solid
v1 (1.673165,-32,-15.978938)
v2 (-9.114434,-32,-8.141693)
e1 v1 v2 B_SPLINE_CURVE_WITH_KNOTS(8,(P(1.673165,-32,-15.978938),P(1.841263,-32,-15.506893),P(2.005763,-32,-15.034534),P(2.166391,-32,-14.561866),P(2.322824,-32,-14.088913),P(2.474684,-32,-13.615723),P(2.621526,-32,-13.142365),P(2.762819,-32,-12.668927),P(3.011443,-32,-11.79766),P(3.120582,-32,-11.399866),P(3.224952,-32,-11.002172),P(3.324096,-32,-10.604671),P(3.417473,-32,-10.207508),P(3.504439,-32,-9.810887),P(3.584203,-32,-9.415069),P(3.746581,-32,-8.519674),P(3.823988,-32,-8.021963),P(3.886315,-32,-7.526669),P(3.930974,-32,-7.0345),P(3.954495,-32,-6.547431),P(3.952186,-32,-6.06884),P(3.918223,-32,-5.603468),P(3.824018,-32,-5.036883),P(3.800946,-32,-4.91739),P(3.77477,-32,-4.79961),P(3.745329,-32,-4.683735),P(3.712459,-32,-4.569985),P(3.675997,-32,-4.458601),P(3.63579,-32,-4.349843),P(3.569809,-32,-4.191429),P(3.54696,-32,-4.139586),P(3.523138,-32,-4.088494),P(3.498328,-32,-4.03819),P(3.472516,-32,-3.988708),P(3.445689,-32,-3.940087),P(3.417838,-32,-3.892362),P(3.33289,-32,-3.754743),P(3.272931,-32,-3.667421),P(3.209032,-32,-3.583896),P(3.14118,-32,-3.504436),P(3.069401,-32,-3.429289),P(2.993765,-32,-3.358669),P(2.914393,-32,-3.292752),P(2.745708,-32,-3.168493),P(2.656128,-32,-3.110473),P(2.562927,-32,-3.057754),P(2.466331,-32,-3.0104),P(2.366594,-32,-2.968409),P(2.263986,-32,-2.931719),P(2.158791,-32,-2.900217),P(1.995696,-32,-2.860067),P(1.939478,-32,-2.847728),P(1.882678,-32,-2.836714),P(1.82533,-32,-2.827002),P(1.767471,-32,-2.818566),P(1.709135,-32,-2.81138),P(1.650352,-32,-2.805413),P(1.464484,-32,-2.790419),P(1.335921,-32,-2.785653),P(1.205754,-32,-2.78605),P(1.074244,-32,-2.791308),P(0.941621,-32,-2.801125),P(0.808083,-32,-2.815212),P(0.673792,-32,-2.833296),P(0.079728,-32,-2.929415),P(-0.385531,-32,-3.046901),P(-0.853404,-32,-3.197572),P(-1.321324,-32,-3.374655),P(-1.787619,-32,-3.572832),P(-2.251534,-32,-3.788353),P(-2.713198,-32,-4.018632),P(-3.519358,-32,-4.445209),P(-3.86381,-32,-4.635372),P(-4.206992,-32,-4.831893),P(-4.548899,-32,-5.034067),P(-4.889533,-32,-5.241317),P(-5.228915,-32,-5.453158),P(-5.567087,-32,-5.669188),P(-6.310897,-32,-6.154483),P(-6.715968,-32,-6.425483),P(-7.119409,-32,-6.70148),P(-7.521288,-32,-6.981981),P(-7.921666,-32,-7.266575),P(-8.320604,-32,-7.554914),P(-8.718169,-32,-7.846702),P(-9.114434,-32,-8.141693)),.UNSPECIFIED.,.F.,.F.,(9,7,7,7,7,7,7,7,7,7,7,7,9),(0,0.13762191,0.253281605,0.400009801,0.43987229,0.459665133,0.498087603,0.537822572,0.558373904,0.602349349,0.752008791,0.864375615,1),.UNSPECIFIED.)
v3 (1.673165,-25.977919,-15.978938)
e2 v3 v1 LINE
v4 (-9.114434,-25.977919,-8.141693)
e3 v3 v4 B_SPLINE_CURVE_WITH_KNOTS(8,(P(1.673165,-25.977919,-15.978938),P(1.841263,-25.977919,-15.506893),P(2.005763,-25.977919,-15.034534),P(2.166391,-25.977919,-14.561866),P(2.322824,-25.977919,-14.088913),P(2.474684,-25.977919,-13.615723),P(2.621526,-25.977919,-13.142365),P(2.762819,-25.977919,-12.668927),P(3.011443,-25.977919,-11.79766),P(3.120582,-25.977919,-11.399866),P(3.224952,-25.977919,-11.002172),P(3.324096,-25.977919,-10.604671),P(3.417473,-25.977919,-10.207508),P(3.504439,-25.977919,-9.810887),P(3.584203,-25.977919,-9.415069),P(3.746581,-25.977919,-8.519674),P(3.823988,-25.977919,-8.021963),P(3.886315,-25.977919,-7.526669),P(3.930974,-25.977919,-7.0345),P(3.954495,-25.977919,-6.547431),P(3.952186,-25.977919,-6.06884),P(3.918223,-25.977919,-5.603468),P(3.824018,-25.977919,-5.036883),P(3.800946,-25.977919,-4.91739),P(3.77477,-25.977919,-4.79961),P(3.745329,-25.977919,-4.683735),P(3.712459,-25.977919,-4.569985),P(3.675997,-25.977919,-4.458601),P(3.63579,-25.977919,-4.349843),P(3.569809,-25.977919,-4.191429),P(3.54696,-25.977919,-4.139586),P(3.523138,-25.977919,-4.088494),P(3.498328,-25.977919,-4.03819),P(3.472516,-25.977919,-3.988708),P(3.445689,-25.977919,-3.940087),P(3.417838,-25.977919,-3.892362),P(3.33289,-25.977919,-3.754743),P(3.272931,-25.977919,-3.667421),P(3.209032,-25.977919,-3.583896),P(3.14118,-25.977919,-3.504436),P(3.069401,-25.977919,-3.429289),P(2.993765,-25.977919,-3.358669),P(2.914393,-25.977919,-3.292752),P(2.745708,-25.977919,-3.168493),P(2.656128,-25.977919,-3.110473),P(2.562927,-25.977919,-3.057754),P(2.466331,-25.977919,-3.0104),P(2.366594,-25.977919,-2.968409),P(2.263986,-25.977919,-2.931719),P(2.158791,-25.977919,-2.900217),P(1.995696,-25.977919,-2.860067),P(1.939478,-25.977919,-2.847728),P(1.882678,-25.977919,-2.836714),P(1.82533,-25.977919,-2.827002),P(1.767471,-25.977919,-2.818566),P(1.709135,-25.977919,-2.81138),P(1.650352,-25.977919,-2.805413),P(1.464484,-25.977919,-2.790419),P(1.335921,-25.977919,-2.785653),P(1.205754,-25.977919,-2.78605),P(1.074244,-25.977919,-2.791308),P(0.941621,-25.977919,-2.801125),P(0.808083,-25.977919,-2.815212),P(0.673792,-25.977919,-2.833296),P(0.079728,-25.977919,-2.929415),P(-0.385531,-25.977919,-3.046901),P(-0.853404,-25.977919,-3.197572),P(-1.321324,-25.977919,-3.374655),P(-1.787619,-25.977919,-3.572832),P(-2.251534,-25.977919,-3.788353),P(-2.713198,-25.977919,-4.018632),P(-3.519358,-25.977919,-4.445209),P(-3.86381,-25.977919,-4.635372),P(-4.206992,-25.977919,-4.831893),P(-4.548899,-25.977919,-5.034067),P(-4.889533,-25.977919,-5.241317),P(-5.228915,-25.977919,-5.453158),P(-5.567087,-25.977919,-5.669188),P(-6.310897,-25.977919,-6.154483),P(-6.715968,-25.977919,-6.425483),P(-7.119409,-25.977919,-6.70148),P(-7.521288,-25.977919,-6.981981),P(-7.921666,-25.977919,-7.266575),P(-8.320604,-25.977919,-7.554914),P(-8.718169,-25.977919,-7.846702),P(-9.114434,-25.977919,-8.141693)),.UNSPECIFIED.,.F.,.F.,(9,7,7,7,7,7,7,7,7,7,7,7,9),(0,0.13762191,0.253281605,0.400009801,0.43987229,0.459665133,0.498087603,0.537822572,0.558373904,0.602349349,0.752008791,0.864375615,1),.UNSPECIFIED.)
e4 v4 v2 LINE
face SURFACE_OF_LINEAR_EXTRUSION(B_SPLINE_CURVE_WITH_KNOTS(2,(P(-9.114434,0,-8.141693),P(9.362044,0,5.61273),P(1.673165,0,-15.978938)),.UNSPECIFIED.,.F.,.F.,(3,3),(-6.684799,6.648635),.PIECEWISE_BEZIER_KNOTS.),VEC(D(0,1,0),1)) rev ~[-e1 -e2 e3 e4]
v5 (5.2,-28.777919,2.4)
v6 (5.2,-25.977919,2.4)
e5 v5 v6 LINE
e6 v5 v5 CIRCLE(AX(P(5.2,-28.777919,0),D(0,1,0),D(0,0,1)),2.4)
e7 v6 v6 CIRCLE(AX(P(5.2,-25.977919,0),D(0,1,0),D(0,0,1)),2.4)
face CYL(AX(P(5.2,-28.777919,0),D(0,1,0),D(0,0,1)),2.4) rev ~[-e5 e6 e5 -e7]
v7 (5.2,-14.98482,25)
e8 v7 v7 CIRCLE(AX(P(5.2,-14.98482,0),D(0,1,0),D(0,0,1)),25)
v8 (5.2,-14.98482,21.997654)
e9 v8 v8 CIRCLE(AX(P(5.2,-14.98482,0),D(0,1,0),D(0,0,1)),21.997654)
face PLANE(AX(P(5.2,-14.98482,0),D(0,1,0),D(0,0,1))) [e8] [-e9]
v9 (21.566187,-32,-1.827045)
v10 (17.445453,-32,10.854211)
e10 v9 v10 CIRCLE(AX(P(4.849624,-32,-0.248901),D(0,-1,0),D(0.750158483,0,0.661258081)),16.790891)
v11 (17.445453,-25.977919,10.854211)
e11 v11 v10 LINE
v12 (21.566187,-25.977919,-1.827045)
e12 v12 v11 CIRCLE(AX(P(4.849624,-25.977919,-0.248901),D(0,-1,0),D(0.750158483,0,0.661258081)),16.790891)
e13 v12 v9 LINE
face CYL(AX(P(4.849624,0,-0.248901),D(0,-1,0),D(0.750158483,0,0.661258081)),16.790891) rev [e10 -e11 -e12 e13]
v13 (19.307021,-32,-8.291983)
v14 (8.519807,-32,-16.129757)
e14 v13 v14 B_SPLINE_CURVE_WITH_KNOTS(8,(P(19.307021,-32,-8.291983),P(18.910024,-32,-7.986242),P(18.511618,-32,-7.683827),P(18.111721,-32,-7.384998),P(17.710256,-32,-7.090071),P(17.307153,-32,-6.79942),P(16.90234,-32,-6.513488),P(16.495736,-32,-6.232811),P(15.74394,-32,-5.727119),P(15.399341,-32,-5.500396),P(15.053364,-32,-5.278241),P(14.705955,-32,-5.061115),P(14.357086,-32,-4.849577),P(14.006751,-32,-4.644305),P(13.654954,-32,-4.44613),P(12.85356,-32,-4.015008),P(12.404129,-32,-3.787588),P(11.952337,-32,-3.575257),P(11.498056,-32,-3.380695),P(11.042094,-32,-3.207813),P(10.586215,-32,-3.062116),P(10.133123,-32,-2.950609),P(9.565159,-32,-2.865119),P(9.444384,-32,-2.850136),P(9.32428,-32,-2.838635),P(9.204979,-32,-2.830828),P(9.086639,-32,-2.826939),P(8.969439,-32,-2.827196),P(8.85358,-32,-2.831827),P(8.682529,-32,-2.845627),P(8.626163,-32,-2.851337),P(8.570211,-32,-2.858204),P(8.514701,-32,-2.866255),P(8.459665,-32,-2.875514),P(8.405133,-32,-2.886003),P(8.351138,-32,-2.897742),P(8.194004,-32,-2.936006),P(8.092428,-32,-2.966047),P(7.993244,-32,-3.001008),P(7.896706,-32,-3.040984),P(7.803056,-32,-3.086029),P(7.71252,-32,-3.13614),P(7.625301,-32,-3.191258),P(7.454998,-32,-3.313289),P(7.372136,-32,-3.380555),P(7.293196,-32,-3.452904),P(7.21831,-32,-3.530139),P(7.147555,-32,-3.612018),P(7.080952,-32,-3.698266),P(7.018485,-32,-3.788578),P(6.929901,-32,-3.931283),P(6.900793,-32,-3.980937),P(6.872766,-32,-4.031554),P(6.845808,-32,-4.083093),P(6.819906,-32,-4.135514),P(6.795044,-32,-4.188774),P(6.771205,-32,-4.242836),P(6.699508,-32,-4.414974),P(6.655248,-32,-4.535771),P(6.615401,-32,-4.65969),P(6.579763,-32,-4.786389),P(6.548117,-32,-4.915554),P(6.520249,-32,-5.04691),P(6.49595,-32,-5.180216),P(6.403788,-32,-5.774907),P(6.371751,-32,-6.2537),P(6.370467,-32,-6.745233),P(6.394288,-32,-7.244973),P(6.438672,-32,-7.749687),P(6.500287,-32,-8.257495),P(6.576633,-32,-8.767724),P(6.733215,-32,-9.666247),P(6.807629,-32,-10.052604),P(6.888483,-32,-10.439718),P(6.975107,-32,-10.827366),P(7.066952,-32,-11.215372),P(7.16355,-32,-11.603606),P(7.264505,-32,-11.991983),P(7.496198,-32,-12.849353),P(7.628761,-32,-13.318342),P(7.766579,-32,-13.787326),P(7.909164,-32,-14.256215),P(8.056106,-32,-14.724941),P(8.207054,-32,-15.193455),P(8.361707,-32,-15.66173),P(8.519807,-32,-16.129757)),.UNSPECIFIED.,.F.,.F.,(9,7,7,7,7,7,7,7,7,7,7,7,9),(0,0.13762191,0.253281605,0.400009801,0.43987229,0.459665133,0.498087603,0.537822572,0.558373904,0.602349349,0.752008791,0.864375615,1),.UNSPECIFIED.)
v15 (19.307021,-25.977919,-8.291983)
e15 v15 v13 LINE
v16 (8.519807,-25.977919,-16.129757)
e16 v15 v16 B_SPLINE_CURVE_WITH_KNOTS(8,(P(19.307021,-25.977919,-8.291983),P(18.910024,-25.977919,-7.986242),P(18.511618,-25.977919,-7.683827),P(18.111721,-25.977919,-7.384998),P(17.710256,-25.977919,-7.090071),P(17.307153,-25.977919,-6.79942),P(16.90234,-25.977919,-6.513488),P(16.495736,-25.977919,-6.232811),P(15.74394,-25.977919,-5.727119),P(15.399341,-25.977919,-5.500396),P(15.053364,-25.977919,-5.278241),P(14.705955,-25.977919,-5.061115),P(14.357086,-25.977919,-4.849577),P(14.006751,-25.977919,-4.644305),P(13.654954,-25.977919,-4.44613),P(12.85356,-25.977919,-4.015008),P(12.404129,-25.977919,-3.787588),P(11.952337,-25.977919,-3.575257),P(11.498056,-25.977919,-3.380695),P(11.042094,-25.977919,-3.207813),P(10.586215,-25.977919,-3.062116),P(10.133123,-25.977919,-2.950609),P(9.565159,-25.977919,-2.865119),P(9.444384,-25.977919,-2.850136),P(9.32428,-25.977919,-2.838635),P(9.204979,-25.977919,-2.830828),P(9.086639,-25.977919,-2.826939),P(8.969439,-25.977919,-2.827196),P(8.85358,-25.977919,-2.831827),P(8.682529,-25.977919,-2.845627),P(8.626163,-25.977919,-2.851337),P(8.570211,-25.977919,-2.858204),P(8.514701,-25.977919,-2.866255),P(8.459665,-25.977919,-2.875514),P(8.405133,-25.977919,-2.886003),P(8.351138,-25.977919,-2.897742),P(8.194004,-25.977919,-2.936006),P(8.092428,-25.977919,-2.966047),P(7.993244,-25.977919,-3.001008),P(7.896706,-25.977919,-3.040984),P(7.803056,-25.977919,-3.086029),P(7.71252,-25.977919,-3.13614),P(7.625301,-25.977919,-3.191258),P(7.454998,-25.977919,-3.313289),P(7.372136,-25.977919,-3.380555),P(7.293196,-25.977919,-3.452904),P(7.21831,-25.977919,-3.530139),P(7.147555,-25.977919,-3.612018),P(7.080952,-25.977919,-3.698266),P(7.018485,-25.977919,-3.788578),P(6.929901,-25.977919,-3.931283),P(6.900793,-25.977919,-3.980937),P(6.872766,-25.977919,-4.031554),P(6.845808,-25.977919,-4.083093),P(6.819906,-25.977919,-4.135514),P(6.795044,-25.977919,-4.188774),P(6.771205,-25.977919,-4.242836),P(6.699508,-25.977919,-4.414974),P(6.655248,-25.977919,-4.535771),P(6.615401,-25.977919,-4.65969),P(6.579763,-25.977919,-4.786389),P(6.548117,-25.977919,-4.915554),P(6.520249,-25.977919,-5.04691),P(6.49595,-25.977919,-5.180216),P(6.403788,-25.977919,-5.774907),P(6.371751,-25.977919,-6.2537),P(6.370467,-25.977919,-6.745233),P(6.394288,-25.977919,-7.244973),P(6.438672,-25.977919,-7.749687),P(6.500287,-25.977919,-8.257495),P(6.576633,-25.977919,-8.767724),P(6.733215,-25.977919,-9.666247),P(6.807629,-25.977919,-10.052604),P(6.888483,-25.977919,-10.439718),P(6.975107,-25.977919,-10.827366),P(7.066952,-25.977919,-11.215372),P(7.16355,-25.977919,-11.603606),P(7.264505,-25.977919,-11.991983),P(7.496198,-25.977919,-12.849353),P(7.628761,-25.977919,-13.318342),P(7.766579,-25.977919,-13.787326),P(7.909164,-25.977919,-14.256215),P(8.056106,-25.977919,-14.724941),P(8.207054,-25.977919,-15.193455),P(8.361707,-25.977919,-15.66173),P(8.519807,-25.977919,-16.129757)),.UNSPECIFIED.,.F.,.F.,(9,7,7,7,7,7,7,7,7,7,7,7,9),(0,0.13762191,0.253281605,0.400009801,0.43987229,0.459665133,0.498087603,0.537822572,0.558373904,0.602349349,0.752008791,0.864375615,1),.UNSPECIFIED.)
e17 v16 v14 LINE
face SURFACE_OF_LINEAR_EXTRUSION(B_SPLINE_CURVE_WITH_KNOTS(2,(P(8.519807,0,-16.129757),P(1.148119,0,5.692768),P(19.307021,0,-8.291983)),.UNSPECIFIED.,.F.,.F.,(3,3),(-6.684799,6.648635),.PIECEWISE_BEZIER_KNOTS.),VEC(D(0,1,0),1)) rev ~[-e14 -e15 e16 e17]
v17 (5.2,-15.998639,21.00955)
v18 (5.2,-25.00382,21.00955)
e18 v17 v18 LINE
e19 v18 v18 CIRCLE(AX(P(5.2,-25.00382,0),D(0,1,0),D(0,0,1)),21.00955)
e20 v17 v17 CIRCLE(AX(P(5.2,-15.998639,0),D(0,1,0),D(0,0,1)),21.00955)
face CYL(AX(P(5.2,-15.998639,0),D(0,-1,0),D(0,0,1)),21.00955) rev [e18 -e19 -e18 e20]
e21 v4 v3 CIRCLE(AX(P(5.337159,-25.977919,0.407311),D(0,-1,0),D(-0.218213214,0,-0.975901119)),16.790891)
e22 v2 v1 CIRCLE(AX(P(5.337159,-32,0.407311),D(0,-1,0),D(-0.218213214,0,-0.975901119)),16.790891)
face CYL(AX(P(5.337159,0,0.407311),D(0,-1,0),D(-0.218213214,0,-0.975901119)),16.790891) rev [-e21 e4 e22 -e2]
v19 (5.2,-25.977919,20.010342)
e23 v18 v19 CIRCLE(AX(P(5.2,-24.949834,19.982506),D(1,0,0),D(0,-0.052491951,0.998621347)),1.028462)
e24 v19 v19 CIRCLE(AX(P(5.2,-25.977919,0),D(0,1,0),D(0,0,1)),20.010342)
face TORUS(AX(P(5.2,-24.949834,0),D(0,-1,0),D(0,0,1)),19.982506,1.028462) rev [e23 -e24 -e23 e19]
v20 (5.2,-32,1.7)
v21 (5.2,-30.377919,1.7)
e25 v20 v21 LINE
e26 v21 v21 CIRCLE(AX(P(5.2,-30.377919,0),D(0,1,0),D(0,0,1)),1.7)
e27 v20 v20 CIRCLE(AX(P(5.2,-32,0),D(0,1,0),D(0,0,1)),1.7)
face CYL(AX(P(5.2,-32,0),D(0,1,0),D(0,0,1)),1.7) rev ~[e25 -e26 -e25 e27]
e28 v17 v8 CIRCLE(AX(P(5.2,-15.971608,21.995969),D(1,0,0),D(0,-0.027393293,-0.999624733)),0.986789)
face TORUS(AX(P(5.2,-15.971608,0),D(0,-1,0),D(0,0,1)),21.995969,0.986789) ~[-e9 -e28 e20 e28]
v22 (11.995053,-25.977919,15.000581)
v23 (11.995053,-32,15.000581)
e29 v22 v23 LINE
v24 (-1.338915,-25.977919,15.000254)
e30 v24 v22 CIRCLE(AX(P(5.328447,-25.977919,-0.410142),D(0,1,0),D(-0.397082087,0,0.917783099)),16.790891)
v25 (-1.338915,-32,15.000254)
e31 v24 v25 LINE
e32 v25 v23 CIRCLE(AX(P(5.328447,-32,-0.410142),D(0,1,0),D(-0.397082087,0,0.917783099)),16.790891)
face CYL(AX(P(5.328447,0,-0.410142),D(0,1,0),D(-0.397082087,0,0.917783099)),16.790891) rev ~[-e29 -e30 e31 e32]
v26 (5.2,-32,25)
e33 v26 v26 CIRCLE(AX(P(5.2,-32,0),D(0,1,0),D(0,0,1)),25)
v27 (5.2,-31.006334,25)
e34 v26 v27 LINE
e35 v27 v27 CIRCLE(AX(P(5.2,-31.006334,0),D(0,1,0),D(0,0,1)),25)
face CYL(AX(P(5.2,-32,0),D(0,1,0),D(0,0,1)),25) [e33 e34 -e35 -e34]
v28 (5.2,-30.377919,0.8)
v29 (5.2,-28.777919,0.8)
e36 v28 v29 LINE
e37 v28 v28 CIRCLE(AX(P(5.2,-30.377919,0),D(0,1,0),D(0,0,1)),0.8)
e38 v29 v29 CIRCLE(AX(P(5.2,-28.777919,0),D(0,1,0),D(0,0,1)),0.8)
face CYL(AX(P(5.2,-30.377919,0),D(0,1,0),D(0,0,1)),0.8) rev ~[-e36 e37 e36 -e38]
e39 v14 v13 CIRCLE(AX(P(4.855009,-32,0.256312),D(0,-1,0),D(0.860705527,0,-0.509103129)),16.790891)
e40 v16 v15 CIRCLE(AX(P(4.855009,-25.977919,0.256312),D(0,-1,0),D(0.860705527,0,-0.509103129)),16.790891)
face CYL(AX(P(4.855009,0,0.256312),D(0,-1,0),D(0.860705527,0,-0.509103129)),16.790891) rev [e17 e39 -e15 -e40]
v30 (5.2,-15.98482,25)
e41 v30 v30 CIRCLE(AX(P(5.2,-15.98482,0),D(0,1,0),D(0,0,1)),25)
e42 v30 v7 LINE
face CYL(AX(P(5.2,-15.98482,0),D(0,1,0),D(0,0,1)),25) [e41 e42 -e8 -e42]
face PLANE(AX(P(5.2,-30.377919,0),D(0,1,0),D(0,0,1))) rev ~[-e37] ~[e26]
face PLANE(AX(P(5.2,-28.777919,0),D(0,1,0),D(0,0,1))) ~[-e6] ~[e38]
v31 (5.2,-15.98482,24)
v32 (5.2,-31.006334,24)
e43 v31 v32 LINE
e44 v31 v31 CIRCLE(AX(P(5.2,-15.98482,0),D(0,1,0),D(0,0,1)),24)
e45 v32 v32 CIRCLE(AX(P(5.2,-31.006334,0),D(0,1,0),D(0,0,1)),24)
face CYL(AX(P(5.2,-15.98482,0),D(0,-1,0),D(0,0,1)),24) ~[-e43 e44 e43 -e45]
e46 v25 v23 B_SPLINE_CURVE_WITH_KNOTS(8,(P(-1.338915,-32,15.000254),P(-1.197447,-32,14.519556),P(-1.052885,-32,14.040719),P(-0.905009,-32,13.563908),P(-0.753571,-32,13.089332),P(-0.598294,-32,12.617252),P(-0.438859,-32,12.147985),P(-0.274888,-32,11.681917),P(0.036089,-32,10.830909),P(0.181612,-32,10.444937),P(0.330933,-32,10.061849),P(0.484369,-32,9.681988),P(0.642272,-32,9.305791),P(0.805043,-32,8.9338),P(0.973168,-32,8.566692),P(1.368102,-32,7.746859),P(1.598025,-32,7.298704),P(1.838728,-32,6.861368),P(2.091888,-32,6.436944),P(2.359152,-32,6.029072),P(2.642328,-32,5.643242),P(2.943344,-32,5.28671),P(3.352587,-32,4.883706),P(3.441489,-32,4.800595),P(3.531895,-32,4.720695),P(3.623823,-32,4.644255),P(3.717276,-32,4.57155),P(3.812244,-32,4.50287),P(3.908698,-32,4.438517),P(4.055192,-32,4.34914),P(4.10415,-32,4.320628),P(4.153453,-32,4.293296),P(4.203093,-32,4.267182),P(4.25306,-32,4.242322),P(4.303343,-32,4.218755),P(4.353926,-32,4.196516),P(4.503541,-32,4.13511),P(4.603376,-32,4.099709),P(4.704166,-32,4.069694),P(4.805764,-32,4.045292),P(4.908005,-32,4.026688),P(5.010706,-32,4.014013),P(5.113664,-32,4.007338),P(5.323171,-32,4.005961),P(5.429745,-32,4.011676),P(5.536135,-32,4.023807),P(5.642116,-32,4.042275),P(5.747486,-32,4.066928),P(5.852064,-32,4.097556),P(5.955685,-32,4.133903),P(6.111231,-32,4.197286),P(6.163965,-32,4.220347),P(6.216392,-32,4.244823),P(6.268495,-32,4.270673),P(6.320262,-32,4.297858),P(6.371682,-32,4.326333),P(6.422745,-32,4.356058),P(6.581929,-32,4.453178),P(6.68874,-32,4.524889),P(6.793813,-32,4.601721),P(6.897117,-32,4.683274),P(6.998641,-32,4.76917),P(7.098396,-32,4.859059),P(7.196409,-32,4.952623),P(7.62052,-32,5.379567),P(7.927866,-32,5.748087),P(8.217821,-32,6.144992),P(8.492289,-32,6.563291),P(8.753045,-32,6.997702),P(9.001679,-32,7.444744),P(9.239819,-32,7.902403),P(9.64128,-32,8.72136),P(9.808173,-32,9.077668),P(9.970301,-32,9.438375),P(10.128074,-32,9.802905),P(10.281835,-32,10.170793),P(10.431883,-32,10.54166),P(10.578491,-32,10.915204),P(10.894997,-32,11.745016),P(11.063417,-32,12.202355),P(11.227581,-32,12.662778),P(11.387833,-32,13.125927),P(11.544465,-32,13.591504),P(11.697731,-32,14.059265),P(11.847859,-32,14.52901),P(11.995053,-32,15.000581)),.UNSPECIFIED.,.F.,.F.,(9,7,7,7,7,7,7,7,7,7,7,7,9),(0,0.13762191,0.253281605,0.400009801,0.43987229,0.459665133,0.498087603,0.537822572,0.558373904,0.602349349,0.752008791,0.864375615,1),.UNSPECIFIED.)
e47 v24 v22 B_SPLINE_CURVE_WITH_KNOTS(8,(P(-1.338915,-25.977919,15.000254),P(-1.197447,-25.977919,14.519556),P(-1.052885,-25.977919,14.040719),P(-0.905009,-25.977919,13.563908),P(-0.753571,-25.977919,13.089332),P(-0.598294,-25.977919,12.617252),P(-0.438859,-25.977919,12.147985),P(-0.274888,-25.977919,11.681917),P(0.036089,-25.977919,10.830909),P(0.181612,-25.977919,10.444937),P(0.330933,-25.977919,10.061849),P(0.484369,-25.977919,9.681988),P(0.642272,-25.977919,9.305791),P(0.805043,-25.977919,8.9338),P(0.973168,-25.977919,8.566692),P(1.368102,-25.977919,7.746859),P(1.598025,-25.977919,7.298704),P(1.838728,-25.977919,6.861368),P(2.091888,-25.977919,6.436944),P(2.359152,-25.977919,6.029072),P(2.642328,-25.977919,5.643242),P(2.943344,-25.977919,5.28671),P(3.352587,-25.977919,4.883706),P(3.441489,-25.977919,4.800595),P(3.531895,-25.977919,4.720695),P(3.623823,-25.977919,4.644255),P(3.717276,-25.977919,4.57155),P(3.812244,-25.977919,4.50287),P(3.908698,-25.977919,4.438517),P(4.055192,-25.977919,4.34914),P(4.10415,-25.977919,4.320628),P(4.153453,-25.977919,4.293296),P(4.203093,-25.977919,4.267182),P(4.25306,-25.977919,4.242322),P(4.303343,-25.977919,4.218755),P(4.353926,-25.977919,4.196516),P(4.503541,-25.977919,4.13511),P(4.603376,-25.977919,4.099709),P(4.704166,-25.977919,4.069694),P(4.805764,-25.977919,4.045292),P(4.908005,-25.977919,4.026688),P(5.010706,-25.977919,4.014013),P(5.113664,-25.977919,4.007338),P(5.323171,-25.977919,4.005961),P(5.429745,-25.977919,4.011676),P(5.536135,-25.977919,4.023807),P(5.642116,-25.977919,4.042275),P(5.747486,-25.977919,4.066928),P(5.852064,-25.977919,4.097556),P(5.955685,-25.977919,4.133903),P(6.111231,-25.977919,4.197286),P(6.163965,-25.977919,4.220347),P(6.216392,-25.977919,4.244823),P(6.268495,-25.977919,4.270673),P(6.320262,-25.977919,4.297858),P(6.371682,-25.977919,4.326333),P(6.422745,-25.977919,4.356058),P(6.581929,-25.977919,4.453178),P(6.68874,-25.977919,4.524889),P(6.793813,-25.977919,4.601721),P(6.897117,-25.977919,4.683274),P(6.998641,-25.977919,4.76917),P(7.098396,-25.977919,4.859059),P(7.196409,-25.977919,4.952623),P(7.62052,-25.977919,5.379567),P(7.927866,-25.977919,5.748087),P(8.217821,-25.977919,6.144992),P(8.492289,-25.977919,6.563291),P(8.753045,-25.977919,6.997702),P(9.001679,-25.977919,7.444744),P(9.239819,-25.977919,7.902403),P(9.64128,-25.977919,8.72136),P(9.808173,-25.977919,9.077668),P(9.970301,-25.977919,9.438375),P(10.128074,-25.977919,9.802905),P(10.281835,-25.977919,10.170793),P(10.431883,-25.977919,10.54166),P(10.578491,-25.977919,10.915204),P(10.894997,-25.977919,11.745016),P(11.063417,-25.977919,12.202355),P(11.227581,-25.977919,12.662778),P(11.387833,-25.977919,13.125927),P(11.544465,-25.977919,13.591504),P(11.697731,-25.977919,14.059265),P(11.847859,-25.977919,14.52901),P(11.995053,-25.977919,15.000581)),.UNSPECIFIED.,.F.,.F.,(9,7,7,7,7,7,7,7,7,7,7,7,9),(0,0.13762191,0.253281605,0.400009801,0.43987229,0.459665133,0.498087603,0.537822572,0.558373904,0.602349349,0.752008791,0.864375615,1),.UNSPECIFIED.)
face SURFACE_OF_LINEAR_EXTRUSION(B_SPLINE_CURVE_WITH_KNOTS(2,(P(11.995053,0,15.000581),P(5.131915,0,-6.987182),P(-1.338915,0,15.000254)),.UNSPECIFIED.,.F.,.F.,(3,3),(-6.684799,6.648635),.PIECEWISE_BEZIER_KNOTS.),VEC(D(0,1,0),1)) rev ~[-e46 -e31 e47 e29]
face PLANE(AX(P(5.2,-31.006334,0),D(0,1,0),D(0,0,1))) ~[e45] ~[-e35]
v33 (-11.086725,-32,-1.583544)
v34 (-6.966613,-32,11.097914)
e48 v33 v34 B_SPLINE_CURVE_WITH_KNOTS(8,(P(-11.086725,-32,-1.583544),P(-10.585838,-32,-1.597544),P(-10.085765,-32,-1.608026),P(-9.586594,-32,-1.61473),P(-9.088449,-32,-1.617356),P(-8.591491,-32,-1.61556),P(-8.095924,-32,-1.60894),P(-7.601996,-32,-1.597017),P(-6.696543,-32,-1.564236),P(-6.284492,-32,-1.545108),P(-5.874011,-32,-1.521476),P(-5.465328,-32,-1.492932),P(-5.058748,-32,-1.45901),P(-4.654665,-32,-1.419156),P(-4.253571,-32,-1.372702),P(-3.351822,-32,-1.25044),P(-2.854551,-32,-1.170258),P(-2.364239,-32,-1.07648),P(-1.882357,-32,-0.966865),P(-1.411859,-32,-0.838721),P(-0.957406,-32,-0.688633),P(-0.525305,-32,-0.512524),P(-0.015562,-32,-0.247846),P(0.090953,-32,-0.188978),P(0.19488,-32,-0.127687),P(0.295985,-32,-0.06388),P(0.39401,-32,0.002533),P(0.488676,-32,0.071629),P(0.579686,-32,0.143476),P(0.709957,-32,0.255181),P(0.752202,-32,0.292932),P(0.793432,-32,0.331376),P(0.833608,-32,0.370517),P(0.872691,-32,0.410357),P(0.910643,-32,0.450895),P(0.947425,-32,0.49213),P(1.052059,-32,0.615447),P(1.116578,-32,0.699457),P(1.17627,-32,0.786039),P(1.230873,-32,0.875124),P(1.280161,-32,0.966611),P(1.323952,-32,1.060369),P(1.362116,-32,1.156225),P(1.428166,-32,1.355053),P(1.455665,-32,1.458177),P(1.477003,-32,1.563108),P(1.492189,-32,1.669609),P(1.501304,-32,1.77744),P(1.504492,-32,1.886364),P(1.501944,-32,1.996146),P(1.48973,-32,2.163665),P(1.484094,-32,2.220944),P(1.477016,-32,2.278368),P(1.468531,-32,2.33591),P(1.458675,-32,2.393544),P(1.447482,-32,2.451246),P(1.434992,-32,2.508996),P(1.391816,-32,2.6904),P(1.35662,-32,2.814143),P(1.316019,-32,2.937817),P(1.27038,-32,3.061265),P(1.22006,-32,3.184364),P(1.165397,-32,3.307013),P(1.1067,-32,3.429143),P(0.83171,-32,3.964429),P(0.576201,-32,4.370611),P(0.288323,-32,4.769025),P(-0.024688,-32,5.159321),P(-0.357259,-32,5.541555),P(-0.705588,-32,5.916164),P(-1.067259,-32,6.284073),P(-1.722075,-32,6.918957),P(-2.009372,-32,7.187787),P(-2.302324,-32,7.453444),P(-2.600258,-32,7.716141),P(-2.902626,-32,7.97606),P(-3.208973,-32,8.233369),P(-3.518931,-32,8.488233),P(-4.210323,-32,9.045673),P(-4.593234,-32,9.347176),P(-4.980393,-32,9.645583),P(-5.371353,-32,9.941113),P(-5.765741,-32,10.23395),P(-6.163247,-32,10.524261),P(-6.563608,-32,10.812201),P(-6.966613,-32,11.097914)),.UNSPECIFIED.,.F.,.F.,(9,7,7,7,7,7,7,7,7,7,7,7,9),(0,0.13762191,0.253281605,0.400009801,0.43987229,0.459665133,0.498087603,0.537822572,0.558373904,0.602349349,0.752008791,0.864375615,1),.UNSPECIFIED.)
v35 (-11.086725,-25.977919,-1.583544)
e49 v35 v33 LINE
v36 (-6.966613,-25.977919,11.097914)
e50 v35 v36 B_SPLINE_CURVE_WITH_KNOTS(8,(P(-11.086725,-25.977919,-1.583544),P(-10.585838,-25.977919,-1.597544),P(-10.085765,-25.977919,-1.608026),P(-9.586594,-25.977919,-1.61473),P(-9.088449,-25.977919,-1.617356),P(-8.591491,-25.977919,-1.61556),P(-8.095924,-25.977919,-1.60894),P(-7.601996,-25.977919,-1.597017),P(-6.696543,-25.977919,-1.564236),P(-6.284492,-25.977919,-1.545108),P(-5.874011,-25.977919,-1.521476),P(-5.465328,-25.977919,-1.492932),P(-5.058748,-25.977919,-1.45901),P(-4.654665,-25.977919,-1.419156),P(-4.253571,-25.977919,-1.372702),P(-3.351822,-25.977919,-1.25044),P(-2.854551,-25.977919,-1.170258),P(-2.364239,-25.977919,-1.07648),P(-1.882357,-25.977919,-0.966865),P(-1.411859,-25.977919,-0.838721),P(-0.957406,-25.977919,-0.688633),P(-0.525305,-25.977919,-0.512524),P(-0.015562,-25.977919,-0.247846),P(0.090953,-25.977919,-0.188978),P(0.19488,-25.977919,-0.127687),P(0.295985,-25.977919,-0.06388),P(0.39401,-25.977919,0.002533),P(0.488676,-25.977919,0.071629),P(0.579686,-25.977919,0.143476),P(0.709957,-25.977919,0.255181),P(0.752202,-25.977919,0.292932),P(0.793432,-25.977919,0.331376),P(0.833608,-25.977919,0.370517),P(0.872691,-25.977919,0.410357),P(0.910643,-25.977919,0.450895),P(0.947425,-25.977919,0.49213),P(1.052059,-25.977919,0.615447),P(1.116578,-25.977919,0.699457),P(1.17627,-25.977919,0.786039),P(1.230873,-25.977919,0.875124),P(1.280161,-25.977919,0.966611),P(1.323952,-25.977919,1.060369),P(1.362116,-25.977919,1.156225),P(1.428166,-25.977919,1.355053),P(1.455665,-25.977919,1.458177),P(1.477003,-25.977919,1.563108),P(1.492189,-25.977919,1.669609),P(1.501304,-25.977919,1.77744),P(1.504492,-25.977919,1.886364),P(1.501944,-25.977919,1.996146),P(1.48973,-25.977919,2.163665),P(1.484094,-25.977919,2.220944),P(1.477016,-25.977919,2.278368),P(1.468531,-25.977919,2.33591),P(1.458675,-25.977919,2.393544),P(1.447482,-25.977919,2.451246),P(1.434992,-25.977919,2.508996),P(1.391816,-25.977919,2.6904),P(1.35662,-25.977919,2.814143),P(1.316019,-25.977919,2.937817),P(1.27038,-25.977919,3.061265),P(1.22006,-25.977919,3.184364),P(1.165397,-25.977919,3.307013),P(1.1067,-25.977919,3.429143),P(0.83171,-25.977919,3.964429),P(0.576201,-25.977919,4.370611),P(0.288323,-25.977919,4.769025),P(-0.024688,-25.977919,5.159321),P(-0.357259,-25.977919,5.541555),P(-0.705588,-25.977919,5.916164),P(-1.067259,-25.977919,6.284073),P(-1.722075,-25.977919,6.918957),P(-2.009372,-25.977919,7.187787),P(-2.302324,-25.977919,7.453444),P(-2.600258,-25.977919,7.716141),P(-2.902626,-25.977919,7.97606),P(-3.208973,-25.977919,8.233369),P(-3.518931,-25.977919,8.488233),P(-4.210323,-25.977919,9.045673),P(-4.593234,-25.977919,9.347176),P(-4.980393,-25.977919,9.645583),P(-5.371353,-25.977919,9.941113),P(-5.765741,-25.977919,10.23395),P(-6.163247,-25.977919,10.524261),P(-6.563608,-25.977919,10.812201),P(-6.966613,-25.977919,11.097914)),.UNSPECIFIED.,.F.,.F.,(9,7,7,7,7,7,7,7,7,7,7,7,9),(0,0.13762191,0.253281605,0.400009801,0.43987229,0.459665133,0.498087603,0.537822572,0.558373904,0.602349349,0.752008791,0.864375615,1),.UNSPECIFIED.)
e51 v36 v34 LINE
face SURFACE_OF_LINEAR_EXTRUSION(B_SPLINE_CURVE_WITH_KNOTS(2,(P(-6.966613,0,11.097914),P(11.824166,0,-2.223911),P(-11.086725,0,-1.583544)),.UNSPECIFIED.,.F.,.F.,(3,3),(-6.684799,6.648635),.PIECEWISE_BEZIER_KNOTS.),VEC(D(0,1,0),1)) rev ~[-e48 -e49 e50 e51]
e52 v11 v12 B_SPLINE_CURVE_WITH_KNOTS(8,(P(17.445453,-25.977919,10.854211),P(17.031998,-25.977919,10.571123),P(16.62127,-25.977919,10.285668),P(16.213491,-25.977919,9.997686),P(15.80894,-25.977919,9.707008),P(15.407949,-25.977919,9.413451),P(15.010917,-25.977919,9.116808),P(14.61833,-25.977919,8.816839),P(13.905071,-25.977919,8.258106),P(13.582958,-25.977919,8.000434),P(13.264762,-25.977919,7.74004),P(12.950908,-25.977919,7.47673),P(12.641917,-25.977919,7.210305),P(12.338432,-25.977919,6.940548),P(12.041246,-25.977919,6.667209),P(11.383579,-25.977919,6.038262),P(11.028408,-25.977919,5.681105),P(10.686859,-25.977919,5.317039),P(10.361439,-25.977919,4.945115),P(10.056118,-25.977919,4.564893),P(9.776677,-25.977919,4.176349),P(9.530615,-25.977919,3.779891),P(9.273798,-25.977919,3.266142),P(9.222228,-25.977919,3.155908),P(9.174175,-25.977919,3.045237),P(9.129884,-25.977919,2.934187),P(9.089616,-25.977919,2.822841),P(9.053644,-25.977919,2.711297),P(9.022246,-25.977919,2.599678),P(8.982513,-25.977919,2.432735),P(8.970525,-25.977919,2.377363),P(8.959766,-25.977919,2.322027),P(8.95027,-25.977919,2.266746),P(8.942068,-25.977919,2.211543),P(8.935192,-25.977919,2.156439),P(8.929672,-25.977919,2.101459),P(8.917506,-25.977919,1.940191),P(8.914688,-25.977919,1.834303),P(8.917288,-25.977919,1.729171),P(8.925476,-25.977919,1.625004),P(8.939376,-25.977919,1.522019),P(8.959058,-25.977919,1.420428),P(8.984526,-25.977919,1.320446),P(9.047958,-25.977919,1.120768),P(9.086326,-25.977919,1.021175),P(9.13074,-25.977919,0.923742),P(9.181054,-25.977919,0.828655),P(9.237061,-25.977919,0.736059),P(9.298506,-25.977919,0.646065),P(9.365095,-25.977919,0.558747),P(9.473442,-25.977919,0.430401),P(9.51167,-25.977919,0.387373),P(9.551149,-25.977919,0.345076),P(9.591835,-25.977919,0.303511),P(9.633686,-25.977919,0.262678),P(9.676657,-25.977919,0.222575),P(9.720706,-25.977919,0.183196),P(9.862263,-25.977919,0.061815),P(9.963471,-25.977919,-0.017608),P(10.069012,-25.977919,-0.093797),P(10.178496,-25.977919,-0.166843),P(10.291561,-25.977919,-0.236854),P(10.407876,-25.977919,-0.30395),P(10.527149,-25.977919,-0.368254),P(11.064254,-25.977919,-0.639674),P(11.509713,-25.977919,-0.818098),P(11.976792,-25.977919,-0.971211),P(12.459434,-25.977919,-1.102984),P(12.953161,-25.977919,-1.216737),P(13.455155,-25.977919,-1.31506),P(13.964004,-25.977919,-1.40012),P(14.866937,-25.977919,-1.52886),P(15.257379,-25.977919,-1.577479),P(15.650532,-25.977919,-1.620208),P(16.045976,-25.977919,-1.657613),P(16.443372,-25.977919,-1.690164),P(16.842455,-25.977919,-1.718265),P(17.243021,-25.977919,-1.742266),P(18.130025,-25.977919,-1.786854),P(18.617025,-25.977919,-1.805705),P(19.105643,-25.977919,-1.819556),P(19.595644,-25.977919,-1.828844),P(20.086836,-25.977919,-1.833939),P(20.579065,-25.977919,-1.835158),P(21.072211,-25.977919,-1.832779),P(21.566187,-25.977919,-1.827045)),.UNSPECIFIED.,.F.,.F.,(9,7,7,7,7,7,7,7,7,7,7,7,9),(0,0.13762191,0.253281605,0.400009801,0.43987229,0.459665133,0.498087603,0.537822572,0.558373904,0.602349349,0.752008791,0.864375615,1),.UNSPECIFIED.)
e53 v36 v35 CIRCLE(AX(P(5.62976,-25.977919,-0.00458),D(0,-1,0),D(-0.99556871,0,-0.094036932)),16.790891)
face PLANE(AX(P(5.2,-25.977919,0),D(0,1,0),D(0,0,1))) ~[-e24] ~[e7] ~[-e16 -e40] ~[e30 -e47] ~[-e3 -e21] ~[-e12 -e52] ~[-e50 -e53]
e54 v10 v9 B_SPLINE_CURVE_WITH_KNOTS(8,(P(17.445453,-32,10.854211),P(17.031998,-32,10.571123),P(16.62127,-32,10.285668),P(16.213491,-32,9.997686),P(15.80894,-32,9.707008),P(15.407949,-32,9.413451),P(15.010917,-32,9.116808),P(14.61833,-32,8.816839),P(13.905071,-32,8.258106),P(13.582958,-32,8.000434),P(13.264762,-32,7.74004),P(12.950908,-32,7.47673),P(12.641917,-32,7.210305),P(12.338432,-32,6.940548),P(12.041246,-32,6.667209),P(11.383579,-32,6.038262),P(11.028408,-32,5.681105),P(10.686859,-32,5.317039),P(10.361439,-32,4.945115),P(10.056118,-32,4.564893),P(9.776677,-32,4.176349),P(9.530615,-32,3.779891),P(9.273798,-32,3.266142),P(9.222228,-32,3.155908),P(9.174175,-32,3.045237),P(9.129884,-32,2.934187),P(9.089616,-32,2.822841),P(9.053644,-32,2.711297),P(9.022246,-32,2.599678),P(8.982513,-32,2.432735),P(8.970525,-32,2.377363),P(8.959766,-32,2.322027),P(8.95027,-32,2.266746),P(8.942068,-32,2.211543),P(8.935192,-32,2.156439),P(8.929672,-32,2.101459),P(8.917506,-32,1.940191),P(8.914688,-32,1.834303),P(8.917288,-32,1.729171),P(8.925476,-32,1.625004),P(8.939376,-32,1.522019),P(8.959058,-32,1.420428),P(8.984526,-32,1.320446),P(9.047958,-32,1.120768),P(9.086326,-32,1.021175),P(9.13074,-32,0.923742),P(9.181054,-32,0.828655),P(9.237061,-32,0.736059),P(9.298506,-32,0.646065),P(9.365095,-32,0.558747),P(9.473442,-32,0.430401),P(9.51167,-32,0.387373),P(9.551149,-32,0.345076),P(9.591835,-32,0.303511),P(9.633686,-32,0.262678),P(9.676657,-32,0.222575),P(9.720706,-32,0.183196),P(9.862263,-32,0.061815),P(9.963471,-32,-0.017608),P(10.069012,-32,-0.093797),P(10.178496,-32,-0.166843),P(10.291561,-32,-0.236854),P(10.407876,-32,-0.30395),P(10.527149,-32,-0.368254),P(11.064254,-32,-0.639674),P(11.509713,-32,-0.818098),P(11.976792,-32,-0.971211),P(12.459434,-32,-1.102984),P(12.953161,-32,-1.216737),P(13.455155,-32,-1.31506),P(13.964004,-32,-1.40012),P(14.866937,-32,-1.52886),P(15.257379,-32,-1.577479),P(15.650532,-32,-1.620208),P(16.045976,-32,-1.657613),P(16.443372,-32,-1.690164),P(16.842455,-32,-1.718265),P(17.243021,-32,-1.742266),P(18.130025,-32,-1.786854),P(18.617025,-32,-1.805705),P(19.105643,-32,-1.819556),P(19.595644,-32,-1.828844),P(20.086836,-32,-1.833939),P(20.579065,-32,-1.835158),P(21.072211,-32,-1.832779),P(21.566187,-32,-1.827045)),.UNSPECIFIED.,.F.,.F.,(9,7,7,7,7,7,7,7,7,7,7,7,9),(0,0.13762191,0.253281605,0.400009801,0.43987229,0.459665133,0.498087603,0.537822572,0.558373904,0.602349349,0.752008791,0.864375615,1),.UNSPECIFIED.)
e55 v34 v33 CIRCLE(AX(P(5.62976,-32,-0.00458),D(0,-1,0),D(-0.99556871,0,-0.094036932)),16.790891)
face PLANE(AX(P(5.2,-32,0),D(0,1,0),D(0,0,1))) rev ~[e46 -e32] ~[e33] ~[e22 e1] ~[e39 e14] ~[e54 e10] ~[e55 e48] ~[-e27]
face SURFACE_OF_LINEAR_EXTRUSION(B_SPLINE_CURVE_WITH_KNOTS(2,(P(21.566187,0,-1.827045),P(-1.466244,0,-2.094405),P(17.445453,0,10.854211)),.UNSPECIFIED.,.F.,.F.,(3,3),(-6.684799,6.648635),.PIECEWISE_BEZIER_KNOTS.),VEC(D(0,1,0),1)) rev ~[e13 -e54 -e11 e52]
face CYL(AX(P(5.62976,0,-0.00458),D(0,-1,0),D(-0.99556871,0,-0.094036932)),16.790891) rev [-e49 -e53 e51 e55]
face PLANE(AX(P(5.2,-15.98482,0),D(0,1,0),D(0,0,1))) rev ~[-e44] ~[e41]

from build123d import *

# Parameters (mm, degrees)
POCKET_DEPTH       = 145.459123
POCKET_DEPTH_BACK  = 177.459123
POLARPATTERN_COUNT = 5


with BuildPart() as part:
    # Sketch009 → Revolution (revolve)
    with BuildSketch(Plane.YZ):
        with BuildLine():
            Line((-32, 25), (-31.006334, 25))
            Line((-31.006334, 24), (-31.006334, 25))
            Line((-15.98482, 24), (-31.006334, 24))
            Line((-15.98482, 25), (-15.98482, 24))
            Line((-15.98482, 25), (-14.98482, 25))
            Line((-14.98482, 25), (-14.98482, 21.997654))
            ThreePointArc((-15.998639, 21.00955), (-15.282862, 21.289299), (-14.98482, 21.997654))
            Line((-15.998639, 21.00955), (-25.00382, 21.00955))
            ThreePointArc((-25.00382, 21.00955), (-25.68626, 20.700427), (-25.977919, 20.010342))
            Line((-25.977919, 2.4), (-25.977919, 20.010342))
            Line((-28.777919, 2.4), (-25.977919, 2.4))
            Line((-28.777919, 0.8), (-28.777919, 2.4))
            Line((-30.377919, 0.8), (-28.777919, 0.8))
            Line((-30.377919, 1.7), (-30.377919, 0.8))
            Line((-32, 1.7), (-30.377919, 1.7))
            Line((-32, 25), (-32, 1.7))
        make_face()
    revolve(axis=Axis((0, 0, 0), (0, 1, 0)))

    # Sketch010 → Pocket (cut, two sides)
    with BuildSketch(Plane(origin=(-5.2, 0, 0), x_dir=(1, 0, 0), z_dir=(0, -1, 0))) as pocket_sk:
        with BuildLine():
            add(Edge.make_bspline(
                [(11.995053, 15.000581), (5.131915, -6.987182), (-1.338915, 15.000254)],
                knots=[-6.684799, -6.684799, -6.684799, 6.648635, 6.648635, 6.648635], degree=2))
            ThreePointArc((-1.338915, 15.000254), (5.328035, 16.380749), (11.995053, 15.000581))
        make_face()
    pocket = extrude(amount=-POCKET_DEPTH, mode=Mode.SUBTRACT) + extrude(pocket_sk.sketch, amount=POCKET_DEPTH_BACK, mode=Mode.SUBTRACT)

    # PolarPattern: Pocket ×5 about axis
    polarpattern_axis = Axis((0, 0, 0), (0, 1, 0))
    for i in range(1, POLARPATTERN_COUNT):
        add(pocket.rotate(polarpattern_axis, i * 360 / POLARPATTERN_COUNT), mode=Mode.SUBTRACT)


with BuildPart() as part_1:
    # Body007 placement: moved
    add(part.part.moved(Location((5.2, 0, 0))))


solid = part_1.part
